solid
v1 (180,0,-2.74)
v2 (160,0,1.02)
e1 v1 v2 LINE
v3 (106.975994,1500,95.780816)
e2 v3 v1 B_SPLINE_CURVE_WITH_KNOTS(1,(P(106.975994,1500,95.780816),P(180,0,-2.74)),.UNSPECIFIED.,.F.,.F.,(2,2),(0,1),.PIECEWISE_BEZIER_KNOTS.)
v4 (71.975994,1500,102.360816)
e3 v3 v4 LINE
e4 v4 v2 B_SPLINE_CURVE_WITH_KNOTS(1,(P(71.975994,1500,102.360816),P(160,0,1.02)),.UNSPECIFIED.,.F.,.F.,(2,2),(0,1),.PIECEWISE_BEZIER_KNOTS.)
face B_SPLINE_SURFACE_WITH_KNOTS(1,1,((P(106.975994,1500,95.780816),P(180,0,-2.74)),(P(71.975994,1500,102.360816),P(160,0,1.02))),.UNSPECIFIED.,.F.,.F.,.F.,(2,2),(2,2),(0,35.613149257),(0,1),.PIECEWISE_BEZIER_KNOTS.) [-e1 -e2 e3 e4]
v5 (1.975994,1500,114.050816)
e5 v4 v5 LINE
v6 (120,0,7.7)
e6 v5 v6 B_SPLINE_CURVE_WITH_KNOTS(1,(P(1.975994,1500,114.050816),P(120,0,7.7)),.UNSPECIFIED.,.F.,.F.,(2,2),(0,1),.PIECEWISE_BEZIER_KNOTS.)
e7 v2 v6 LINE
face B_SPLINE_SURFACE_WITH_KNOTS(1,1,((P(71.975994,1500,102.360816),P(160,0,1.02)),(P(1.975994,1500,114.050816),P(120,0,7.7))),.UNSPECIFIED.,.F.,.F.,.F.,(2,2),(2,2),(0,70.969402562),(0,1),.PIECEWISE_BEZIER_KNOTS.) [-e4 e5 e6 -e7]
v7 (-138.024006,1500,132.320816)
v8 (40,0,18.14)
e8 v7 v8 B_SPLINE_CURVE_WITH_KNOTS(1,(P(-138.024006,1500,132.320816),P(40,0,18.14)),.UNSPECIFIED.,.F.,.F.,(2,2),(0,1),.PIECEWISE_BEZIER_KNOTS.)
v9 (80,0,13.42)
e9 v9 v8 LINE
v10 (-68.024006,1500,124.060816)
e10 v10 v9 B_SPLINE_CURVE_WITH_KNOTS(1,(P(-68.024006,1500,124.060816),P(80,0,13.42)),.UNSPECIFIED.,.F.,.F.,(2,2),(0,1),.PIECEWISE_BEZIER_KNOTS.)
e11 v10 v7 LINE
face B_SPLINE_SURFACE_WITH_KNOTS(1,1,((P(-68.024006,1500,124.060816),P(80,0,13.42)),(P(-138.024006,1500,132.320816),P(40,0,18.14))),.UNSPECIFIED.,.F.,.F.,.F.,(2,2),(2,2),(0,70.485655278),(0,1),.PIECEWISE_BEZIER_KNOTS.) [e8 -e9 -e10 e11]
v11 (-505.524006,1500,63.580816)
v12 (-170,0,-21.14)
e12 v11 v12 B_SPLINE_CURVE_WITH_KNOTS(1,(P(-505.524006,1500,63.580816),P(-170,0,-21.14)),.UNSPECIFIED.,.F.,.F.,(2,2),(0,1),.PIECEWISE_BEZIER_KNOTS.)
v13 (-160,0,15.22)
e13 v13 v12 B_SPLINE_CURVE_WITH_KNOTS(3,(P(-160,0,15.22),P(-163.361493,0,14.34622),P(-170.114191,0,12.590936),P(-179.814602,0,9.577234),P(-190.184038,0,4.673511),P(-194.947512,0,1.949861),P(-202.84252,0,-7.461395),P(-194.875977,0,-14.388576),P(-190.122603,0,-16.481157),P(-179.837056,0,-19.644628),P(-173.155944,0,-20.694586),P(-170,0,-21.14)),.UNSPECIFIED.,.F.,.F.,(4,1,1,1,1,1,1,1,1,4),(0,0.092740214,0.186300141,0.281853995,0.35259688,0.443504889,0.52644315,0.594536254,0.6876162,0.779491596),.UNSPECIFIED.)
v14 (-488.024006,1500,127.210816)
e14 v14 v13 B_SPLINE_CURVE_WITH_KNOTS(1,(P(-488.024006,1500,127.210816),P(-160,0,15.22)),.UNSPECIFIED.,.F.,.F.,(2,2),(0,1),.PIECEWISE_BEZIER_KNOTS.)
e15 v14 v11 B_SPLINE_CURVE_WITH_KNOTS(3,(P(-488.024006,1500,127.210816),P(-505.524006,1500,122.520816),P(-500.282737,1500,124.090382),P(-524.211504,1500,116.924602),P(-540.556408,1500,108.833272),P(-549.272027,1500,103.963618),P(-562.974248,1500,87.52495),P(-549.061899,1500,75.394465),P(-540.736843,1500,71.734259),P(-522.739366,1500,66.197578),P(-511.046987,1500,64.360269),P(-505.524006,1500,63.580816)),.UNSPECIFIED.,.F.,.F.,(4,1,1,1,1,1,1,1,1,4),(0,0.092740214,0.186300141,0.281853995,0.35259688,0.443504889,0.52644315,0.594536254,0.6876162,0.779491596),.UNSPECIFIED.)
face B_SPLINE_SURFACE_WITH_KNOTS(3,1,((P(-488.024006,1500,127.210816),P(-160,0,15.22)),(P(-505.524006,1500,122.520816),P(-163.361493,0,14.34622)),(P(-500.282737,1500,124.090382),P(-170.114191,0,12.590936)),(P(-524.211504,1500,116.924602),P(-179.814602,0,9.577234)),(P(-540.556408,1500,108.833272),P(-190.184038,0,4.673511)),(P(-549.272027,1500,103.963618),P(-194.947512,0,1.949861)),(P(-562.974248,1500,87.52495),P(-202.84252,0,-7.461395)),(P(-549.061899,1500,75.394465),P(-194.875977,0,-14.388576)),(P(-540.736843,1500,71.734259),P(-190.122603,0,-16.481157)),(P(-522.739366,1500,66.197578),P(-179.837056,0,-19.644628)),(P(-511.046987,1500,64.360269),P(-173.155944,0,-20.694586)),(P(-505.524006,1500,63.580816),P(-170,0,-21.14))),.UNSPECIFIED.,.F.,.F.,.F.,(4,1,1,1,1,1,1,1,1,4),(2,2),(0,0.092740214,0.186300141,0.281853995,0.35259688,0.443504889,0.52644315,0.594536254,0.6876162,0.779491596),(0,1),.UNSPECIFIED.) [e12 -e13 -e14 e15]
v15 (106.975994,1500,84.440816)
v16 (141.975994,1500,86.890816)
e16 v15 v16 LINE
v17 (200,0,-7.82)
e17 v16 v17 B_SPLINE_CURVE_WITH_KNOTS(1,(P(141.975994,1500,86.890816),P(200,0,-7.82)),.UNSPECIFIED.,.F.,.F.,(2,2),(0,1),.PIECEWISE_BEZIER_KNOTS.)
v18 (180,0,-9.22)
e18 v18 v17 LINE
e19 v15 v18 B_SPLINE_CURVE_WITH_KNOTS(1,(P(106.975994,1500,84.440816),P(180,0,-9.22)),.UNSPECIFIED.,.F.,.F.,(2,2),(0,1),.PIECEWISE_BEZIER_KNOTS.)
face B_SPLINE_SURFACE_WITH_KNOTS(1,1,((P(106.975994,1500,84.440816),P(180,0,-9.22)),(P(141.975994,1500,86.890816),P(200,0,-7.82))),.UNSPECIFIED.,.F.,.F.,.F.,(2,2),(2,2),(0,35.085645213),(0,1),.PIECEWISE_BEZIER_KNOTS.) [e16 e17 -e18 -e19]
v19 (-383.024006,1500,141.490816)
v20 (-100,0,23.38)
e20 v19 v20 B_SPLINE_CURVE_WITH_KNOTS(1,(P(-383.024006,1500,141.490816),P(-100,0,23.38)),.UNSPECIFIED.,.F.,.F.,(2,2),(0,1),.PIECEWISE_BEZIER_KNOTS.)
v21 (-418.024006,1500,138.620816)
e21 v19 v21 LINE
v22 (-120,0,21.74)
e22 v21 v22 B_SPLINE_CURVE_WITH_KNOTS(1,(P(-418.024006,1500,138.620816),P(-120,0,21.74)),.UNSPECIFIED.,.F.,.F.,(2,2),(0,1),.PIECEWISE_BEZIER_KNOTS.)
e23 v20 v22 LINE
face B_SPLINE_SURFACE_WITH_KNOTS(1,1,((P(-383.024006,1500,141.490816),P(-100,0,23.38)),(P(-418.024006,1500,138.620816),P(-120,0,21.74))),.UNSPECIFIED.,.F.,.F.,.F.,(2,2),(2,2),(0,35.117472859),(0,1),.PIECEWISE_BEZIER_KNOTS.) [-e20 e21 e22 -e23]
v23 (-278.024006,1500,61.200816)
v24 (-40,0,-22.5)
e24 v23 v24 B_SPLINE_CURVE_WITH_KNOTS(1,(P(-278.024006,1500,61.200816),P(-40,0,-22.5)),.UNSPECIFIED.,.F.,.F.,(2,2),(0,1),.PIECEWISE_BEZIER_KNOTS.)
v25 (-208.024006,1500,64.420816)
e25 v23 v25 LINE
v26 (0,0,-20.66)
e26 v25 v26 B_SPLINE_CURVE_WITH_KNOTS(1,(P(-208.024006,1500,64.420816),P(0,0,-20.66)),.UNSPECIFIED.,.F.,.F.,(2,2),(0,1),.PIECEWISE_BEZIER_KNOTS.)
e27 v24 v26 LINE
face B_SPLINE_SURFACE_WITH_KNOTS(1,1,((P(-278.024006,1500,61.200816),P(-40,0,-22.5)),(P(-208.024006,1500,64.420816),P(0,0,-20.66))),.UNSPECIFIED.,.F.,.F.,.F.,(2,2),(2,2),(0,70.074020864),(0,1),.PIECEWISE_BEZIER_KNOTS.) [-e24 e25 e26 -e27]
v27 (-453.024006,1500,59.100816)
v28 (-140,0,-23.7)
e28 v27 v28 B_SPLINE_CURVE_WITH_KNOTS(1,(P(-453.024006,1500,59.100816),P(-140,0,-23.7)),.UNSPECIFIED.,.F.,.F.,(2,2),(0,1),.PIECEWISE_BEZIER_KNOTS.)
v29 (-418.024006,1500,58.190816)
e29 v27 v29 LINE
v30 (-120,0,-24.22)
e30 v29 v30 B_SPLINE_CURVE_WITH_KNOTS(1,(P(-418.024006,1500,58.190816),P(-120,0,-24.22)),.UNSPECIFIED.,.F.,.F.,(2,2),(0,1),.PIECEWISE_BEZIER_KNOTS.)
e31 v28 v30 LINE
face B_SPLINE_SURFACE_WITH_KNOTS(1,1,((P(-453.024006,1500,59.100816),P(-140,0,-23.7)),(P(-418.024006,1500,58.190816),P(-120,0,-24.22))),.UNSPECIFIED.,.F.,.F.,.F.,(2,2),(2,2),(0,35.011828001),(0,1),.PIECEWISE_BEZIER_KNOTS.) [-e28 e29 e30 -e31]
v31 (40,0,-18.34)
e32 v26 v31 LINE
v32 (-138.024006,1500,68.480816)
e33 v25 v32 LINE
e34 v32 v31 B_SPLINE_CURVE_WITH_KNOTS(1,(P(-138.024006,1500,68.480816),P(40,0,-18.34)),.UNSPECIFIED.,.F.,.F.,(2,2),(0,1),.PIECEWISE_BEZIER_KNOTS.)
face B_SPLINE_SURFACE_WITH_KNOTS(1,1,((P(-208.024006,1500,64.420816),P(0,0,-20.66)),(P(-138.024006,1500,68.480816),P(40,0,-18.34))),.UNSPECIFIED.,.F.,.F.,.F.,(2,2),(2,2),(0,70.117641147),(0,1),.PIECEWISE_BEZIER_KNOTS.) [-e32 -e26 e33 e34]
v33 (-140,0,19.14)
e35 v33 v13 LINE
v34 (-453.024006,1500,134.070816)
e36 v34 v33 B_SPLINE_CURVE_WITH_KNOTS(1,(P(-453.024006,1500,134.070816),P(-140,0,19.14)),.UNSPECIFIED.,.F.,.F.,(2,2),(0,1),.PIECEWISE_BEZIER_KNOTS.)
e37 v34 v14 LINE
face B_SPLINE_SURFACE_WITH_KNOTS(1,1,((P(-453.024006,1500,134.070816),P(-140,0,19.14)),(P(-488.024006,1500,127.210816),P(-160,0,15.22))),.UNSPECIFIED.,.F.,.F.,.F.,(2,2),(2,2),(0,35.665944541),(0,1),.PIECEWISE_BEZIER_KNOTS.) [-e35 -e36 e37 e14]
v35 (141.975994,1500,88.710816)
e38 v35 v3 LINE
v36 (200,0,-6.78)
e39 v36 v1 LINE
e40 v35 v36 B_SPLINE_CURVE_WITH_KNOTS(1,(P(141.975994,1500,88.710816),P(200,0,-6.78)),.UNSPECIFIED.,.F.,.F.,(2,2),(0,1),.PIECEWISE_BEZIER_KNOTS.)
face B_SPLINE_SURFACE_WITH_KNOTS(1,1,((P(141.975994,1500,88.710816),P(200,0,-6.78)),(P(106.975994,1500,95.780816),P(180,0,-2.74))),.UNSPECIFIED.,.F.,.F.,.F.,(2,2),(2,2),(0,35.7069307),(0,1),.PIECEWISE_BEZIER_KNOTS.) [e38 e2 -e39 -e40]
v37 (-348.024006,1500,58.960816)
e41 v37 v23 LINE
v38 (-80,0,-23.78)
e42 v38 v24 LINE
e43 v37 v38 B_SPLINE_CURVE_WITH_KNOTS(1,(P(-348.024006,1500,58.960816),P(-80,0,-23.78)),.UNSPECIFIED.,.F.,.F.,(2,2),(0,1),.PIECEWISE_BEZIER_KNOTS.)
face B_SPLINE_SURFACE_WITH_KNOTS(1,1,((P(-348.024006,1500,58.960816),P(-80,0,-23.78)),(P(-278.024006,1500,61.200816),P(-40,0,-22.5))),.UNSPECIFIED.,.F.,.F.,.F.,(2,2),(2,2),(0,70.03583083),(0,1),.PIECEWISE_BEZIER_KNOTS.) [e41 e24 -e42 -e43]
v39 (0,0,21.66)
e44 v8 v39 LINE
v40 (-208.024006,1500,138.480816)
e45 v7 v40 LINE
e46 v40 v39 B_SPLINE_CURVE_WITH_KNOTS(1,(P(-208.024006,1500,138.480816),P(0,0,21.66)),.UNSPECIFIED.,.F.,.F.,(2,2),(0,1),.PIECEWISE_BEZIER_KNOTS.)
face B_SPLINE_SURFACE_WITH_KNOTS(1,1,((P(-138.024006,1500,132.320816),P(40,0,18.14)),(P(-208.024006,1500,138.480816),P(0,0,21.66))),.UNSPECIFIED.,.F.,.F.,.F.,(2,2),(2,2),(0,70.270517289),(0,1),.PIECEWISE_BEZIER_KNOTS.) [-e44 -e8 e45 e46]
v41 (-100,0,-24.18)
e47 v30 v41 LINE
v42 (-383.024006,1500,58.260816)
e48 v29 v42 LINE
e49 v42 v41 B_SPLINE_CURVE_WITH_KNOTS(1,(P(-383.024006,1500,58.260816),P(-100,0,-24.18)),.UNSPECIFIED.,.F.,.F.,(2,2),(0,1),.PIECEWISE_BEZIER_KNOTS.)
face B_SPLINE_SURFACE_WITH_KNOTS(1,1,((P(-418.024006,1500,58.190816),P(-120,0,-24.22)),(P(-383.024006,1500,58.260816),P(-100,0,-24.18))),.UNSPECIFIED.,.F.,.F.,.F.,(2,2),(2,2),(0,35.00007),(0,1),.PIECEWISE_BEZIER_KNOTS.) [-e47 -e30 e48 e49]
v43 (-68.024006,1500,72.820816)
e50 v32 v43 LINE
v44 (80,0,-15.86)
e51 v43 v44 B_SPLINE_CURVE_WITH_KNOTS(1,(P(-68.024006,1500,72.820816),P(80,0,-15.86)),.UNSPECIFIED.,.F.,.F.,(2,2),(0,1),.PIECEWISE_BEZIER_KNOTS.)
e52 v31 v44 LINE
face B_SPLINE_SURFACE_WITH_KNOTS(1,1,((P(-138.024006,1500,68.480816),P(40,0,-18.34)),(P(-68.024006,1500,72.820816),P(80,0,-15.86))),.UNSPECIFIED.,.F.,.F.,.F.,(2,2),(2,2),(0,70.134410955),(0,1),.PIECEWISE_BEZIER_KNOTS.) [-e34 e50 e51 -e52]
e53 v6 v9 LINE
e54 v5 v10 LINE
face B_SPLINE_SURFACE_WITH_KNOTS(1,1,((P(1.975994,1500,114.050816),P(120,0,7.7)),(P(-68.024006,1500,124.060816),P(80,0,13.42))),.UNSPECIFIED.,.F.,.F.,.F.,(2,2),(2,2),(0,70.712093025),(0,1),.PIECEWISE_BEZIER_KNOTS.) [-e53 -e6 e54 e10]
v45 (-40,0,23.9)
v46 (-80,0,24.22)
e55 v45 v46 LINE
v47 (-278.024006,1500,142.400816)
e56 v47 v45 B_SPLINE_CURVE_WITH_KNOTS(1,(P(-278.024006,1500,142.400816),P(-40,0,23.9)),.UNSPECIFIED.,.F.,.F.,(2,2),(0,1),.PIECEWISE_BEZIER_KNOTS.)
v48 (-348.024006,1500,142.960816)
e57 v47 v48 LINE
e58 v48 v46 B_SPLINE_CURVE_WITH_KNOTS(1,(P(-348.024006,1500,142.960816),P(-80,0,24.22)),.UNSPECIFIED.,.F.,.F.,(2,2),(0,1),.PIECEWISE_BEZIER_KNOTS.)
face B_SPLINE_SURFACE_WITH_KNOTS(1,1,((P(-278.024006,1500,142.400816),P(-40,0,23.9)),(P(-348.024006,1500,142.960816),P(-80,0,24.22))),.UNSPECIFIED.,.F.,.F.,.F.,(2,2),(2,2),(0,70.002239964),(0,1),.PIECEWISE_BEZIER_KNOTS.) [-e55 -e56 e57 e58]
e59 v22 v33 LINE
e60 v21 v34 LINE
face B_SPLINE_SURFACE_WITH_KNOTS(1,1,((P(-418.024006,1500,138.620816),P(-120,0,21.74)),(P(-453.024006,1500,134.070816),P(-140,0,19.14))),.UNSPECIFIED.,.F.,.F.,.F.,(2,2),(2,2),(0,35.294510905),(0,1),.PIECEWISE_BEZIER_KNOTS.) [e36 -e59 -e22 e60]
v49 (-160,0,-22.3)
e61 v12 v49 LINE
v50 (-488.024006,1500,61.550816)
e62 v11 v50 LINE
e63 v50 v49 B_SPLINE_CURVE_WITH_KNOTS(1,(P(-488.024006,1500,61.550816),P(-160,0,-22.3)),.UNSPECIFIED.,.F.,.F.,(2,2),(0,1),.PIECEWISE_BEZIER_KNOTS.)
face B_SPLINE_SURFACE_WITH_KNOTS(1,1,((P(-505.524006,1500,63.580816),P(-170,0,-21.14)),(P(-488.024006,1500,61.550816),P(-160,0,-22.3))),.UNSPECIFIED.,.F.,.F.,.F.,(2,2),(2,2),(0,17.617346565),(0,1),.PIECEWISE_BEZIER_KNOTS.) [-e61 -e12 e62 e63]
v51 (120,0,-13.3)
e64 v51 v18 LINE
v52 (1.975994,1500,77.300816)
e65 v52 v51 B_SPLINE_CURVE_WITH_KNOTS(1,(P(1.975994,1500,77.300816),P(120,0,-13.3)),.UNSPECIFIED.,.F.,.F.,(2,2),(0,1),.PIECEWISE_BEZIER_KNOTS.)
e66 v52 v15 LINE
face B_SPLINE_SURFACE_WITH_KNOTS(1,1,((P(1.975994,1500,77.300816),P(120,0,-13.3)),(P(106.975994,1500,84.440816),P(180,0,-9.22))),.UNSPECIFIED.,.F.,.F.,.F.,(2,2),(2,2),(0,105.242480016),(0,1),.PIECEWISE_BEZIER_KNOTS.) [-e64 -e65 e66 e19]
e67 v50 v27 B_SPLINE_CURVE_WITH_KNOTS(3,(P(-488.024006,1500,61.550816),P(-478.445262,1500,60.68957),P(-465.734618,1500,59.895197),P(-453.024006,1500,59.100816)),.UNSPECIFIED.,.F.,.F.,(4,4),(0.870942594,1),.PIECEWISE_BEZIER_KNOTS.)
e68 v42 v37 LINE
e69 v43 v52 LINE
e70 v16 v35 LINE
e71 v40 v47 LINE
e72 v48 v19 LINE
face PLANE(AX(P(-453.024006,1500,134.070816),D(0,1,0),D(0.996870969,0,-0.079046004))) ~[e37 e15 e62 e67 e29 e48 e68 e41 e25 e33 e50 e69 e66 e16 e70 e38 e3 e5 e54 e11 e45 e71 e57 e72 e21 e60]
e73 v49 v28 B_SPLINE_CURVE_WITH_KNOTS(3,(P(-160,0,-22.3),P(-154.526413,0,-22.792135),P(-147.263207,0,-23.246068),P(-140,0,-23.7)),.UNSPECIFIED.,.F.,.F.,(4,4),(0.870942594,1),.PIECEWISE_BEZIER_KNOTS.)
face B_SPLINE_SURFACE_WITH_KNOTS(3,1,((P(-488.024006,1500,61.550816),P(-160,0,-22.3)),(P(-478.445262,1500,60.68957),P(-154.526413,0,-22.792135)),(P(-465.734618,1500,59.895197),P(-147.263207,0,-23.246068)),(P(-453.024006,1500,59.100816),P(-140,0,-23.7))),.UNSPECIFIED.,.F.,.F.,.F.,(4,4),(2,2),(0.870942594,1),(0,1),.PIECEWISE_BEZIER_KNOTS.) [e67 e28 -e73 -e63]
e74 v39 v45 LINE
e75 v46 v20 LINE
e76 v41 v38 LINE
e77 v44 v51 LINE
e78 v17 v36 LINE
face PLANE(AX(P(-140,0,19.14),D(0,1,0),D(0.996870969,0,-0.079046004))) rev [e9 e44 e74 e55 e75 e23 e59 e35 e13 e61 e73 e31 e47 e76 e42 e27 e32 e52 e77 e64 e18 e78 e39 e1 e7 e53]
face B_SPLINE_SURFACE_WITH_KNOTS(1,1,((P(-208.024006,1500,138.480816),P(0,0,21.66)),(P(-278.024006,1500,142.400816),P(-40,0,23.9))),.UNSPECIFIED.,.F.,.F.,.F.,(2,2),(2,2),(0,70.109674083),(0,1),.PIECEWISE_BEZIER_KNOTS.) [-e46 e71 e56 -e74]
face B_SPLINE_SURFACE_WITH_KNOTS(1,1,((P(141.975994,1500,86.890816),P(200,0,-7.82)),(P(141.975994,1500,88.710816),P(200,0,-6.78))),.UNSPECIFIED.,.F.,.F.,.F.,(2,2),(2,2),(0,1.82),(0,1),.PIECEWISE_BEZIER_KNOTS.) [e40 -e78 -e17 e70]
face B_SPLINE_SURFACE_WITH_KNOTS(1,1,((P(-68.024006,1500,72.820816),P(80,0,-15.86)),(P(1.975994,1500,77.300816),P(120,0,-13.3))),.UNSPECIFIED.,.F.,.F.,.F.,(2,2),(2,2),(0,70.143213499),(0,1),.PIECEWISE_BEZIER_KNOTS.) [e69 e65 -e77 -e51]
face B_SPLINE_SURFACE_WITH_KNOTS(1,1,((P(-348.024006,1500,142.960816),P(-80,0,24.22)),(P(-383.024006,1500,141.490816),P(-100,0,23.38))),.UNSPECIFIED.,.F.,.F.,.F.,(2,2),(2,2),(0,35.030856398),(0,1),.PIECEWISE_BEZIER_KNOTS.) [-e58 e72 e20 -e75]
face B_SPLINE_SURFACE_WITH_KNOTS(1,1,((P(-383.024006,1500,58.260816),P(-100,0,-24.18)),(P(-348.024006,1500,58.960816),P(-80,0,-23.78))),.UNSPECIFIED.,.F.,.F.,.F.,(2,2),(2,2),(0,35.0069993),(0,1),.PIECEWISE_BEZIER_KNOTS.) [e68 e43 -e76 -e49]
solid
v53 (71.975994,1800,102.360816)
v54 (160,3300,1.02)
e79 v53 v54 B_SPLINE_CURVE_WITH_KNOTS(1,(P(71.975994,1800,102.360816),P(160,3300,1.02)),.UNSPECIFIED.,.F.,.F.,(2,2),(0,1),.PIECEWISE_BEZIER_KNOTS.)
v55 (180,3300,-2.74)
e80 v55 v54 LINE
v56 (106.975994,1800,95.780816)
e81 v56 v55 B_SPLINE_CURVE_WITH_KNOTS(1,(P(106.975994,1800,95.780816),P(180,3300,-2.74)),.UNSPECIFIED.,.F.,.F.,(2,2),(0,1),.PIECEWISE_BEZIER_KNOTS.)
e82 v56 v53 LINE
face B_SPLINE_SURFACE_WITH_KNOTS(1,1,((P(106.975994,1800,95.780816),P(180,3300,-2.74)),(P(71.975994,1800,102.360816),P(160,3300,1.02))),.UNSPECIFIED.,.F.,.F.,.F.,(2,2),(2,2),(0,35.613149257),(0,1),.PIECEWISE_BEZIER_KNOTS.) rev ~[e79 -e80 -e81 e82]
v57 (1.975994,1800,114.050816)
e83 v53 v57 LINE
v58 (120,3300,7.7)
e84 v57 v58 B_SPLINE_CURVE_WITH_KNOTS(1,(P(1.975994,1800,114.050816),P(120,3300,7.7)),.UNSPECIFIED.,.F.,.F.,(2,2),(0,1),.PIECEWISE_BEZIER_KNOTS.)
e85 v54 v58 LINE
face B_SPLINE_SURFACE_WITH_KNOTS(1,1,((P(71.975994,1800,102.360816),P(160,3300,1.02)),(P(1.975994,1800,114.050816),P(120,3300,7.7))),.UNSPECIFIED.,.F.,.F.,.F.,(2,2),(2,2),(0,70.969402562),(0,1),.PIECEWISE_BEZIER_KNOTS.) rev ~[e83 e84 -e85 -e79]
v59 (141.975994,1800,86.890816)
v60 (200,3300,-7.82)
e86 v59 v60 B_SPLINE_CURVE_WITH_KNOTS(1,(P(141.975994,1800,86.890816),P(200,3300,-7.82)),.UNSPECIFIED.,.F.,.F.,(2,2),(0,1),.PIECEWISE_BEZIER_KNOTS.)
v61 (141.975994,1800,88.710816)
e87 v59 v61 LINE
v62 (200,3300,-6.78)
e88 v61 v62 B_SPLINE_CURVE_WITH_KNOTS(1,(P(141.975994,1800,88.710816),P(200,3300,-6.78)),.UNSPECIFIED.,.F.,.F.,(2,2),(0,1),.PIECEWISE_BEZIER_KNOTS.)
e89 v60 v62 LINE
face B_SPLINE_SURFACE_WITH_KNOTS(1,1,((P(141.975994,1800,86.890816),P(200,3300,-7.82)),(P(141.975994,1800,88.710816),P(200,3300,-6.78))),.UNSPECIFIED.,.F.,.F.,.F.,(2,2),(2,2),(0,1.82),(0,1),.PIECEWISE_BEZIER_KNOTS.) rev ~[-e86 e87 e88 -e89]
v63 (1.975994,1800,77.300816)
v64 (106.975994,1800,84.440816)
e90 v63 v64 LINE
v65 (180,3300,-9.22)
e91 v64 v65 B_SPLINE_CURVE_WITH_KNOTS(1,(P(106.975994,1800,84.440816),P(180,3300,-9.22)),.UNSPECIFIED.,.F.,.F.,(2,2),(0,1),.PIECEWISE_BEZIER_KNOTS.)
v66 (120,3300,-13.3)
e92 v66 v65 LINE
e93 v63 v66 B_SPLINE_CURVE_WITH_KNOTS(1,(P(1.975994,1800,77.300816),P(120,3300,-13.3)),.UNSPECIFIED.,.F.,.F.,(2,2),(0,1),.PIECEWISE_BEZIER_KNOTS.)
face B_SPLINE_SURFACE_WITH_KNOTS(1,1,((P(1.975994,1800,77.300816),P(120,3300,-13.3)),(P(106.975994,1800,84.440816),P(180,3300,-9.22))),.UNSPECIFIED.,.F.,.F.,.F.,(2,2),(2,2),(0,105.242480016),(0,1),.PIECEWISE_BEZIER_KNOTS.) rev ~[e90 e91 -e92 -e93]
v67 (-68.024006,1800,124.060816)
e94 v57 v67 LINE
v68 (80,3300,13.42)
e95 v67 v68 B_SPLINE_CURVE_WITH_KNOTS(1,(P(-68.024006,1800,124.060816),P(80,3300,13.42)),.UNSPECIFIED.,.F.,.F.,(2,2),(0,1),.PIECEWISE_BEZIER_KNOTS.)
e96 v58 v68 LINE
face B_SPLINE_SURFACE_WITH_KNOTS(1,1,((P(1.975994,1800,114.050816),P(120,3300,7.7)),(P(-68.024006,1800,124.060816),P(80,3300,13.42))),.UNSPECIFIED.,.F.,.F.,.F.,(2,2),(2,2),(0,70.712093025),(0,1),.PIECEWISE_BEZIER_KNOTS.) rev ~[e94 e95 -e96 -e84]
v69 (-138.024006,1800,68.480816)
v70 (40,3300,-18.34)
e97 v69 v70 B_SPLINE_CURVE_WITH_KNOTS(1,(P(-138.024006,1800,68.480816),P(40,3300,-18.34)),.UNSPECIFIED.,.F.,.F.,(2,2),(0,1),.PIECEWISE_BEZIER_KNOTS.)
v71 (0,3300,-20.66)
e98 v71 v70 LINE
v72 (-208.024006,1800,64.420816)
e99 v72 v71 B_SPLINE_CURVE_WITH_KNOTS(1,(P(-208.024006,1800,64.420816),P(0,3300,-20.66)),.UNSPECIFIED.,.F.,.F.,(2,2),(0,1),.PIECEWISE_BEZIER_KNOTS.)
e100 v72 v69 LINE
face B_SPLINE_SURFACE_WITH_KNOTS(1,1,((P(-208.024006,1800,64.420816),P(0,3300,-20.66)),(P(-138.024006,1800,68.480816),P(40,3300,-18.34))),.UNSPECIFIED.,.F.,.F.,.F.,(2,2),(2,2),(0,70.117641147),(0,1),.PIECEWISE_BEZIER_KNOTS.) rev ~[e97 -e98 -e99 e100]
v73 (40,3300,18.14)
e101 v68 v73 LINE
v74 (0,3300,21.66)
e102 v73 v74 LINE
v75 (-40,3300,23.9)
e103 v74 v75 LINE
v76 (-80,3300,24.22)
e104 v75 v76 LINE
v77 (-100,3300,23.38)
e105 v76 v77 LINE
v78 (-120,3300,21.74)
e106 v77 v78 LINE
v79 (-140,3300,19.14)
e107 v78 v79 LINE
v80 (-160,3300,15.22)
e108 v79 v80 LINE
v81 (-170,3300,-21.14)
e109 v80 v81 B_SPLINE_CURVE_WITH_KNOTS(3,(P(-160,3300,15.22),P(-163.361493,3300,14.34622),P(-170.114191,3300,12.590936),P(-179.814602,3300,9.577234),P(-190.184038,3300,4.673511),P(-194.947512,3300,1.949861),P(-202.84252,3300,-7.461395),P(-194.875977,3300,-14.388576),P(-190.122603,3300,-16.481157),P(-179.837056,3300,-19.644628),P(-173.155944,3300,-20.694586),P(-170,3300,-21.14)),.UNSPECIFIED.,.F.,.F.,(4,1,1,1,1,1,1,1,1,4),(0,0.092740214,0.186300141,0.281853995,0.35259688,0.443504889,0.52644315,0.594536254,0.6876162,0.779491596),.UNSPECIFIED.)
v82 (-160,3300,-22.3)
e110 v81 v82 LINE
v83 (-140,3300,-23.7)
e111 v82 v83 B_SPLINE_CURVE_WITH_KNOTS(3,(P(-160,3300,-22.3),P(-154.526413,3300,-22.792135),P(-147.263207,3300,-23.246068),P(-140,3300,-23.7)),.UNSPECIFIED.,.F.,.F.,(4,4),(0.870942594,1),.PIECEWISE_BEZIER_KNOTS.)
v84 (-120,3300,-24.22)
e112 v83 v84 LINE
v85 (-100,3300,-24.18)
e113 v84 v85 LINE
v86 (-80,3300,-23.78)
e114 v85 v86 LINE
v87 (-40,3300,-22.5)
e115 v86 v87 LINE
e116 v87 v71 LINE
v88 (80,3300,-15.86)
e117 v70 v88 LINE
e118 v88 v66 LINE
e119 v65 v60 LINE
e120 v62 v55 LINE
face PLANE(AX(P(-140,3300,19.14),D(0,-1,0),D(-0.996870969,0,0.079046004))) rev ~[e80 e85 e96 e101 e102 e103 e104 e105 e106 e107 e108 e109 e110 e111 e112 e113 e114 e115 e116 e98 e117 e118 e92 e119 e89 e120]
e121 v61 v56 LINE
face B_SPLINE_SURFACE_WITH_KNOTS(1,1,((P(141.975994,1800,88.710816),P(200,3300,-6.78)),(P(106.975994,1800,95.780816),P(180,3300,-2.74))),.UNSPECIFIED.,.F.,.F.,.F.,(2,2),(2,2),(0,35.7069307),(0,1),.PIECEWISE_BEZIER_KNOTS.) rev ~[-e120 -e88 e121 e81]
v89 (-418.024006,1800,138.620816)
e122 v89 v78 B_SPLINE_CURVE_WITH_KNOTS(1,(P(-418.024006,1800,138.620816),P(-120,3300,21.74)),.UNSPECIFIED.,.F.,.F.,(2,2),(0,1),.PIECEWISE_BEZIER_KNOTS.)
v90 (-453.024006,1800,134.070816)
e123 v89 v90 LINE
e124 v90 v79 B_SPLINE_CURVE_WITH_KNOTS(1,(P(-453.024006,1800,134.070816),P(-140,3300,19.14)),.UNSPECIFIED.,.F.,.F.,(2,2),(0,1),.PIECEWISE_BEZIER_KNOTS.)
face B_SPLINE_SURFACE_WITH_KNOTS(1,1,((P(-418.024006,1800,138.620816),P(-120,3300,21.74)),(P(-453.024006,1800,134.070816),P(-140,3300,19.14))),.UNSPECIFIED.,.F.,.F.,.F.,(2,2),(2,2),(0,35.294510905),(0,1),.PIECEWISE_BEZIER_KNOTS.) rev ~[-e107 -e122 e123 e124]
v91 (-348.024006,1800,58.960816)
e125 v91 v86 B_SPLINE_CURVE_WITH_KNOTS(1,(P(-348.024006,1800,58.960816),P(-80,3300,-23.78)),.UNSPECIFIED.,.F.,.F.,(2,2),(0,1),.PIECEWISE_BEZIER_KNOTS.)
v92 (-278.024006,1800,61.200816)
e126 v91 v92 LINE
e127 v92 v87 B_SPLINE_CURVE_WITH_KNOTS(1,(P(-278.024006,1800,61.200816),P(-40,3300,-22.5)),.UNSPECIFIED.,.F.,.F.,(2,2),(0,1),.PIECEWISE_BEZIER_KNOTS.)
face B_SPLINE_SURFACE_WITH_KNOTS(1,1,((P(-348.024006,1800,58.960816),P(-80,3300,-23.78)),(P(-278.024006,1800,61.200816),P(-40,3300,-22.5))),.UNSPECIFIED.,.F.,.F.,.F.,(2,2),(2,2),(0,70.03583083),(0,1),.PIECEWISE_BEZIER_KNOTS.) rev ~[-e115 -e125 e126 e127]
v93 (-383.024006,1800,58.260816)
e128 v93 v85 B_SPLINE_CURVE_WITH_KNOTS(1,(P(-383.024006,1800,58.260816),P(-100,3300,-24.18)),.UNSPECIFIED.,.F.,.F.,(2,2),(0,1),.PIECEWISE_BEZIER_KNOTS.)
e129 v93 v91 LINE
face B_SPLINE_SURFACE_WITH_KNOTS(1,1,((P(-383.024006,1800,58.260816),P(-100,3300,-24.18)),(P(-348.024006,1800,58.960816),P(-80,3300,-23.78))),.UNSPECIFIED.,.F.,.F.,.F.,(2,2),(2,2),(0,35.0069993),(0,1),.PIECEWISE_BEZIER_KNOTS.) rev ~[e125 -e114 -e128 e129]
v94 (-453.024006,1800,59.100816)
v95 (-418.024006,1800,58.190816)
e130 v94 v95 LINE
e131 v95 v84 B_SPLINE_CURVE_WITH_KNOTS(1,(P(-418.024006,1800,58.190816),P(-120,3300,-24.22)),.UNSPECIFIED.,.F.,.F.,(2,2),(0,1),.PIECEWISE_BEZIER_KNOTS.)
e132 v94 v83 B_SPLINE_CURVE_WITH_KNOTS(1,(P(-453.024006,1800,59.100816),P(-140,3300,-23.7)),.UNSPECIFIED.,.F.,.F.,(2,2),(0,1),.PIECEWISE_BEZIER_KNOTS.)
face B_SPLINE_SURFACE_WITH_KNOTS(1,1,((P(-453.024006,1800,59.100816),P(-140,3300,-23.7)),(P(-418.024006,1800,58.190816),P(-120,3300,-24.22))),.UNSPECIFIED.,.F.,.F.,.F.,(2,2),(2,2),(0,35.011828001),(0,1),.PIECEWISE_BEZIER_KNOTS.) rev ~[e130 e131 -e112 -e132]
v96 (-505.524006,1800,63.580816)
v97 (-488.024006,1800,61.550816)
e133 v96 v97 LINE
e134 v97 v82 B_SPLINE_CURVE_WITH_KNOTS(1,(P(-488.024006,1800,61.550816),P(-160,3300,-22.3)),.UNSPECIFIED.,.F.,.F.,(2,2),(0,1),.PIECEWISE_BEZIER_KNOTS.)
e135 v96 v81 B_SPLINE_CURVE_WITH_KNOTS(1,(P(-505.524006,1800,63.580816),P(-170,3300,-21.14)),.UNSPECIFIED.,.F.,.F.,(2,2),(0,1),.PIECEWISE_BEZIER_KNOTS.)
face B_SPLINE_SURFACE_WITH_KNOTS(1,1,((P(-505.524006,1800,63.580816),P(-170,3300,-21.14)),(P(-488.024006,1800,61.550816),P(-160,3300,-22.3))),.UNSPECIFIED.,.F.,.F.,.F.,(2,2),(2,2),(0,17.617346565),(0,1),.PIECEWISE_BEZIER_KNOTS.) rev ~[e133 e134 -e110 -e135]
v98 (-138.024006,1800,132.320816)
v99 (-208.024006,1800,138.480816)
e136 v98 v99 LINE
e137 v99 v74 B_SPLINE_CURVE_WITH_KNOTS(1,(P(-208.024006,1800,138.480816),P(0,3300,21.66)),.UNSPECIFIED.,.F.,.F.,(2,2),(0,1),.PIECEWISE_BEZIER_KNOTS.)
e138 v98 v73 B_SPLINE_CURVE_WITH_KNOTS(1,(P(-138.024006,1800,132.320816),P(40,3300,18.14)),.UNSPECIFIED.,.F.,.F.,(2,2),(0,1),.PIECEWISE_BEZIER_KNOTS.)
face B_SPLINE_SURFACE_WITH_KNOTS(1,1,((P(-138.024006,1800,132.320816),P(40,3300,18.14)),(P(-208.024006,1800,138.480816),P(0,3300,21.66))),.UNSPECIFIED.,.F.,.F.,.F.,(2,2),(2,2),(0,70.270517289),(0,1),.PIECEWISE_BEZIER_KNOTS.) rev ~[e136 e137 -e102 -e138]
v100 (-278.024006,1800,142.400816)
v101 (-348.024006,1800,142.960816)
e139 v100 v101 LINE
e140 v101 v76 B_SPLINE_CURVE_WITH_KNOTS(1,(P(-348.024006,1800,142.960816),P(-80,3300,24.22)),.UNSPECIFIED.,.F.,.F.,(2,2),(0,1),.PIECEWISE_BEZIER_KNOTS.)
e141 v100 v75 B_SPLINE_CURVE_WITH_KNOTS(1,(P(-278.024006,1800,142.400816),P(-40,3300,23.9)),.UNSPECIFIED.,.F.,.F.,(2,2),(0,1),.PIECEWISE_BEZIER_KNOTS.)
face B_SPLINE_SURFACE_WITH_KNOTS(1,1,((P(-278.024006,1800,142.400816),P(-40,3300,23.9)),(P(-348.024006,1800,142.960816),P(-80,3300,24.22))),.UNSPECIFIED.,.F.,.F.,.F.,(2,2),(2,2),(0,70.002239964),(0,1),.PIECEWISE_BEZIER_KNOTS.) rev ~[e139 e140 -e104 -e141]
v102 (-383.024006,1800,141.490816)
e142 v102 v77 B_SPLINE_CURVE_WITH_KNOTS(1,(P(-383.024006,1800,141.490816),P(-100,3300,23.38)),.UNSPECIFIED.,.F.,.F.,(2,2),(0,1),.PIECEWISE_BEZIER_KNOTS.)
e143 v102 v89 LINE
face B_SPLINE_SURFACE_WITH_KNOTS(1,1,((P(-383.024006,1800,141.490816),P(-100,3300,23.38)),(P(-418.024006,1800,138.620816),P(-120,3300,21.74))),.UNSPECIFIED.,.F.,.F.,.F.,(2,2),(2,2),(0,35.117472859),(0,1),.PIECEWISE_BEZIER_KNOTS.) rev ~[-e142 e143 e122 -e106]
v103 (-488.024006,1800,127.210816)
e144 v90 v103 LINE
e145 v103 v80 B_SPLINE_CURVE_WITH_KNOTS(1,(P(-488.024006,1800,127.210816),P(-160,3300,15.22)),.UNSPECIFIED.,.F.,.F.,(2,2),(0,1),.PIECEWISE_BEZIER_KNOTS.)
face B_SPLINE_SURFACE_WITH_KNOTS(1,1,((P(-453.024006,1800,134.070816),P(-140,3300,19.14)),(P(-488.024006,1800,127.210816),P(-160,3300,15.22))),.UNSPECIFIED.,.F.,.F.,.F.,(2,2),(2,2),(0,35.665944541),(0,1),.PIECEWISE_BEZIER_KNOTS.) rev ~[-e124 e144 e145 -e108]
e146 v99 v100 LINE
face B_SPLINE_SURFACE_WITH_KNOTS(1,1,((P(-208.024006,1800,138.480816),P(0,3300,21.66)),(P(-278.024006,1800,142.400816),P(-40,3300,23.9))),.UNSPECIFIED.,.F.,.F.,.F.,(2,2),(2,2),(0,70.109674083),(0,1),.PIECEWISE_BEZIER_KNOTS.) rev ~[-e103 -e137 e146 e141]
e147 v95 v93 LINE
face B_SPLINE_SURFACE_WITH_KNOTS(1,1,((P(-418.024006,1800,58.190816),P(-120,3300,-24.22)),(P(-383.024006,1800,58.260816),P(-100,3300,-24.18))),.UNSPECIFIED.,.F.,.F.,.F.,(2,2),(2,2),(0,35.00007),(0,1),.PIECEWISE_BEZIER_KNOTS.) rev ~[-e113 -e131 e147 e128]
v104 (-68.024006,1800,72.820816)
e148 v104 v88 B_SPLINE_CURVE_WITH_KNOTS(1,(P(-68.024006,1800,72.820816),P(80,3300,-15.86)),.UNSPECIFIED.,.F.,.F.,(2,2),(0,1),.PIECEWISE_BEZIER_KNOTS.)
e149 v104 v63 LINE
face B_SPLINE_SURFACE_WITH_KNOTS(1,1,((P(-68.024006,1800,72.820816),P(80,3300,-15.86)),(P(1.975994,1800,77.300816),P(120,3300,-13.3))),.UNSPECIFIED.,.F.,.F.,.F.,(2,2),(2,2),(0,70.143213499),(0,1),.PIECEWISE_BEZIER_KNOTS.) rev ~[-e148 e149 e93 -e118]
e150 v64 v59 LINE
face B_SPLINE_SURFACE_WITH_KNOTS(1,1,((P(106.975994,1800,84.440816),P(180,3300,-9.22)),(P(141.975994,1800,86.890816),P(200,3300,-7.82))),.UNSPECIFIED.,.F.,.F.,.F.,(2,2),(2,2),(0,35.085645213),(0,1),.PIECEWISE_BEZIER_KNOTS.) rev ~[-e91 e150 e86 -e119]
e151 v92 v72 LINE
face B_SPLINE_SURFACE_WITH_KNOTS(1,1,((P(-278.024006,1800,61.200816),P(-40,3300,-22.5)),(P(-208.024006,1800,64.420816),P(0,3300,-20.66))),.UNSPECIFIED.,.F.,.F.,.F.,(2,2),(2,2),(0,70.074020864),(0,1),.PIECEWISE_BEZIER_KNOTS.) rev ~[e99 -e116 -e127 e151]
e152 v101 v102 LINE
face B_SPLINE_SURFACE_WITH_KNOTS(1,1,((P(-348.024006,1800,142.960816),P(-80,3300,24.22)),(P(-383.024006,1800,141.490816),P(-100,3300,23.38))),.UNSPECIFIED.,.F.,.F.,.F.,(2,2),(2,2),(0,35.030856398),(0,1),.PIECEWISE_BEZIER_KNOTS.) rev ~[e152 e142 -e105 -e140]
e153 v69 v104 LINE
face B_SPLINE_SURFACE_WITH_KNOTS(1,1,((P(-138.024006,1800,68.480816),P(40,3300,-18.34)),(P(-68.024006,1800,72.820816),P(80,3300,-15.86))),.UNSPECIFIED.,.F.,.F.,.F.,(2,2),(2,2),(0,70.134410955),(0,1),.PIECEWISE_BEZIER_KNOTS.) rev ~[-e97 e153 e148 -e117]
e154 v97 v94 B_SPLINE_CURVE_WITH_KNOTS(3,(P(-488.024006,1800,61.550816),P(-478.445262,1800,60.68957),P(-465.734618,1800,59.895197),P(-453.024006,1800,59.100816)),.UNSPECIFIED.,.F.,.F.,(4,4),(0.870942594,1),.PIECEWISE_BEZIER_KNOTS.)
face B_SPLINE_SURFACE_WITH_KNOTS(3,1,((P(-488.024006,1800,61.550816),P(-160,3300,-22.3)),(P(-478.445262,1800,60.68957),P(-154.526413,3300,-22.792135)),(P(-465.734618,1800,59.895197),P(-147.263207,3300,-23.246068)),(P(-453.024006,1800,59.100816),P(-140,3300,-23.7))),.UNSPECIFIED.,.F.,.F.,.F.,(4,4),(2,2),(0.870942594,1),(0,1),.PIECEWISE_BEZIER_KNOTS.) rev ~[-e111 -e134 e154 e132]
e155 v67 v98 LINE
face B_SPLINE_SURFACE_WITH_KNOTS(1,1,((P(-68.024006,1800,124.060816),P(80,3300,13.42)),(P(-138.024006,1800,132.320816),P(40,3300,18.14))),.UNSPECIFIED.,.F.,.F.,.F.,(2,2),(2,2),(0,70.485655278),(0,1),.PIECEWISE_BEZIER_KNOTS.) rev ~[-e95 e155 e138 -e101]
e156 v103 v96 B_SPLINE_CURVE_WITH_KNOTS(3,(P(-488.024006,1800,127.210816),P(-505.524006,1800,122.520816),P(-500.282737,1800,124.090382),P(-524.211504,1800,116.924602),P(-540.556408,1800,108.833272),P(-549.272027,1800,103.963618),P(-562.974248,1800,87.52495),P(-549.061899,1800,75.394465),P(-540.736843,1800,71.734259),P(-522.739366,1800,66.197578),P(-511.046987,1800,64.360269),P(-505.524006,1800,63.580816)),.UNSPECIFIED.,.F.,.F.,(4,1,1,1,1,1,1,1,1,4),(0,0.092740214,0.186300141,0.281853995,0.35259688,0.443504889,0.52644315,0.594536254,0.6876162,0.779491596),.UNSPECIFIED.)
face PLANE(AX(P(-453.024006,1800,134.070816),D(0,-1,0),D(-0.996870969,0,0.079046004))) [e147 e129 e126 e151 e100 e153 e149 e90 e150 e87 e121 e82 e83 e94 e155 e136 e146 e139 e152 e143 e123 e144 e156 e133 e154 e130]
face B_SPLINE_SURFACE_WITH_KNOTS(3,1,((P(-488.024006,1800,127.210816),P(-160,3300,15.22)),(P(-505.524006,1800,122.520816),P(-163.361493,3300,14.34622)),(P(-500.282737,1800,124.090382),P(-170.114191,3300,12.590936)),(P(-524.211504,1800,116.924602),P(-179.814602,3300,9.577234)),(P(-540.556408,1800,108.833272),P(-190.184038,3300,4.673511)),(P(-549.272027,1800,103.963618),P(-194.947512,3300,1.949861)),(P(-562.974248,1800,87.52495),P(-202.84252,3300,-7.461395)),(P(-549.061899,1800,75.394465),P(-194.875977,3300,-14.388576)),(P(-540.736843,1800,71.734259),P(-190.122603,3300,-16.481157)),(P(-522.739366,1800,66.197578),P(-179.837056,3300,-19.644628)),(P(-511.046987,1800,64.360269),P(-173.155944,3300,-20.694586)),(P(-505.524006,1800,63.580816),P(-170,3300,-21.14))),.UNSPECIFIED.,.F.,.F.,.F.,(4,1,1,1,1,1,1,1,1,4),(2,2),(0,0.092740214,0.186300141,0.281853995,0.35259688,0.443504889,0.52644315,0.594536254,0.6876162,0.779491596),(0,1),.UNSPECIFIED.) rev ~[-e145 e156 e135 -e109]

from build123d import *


with BuildPart() as f3:
    # F2 (on offset) → F3 section 0
    with BuildSketch(Plane.XZ.offset(-1500)):
        with BuildLine():
            Line((-453.024005903, 134.070815636), (-488.024005903, 127.210815636))
            add(Edge.make_bspline(
                [(-488.024005903, 127.210815636), (-505.524005903, 122.520815636), (-500.2827367227, 124.0903816748), (-524.2115035713, 116.9246020698), (-540.5564075877, 108.8332722079), (-549.2720273912, 103.9636179679), (-562.9742481019, 87.5249499302), (-549.0618991003, 75.3944652873), (-540.7368431214, 71.7342588003), (-522.7393658392, 66.1975777348), (-511.0469874932, 64.3602690089), (-505.524005903, 63.580815636)],
                knots=[0, 0, 0, 0, 0.0927402139, 0.1863001415, 0.2818539948, 0.3525968802, 0.4435048891, 0.5264431503, 0.5945362542, 0.6876161998, 0.7794915956, 0.7794915956, 0.7794915956, 0.7794915956], degree=3))
            Line((-505.524005903, 63.580815636), (-488.024005903, 61.550815636))
            add(Edge.make_bspline(
                [(-488.024005903, 61.550815636), (-478.4452616439, 60.6895704297), (-465.7346175052, 59.8951974592), (-453.024005903, 59.100815636)],
                knots=[0.8709425935, 0.8709425935, 0.8709425935, 0.8709425935, 1, 1, 1, 1], degree=3))
            Line((-453.024005903, 59.100815636), (-418.024005903, 58.190815636))
            Line((-418.024005903, 58.190815636), (-383.024005903, 58.260815636))
            Line((-383.024005903, 58.260815636), (-348.024005903, 58.960815636))
            Line((-348.024005903, 58.960815636), (-278.024005903, 61.200815636))
            Line((-278.024005903, 61.200815636), (-208.024005903, 64.420815636))
            Line((-208.024005903, 64.420815636), (-138.024005903, 68.480815636))
            Line((-138.024005903, 68.480815636), (-68.024005903, 72.820815636))
            Line((-68.024005903, 72.820815636), (1.975994097, 77.300815636))
            Line((1.975994097, 77.300815636), (71.975994097, 82.060815636))
            Line((71.975994097, 82.060815636), (106.975994097, 84.440815636))
            Line((106.975994097, 84.440815636), (141.975994097, 86.890815636))
            Line((141.975994097, 86.890815636), (141.975994097, 88.710815636))
            Line((141.975994097, 88.710815636), (106.975994097, 95.780815636))
            Line((106.975994097, 95.780815636), (71.975994097, 102.360815636))
            Line((71.975994097, 102.360815636), (1.975994097, 114.050815636))
            Line((1.975994097, 114.050815636), (-68.024005903, 124.060815636))
            Line((-68.024005903, 124.060815636), (-138.024005903, 132.320815636))
            Line((-138.024005903, 132.320815636), (-208.024005903, 138.480815636))
            Line((-208.024005903, 138.480815636), (-278.024005903, 142.400815636))
            Line((-278.024005903, 142.400815636), (-348.024005903, 142.960815636))
            Line((-348.024005903, 142.960815636), (-383.024005903, 141.490815636))
            Line((-383.024005903, 141.490815636), (-418.024005903, 138.620815636))
            Line((-418.024005903, 138.620815636), (-453.024005903, 134.070815636))
        make_face()
    # F1 (on Front) → F3 section 1
    with BuildSketch(Plane.XZ):
        with BuildLine():
            Line((-140, 19.14), (-160, 15.22))
            add(Edge.make_bspline(
                [(-160, 15.22), (-163.3614930577, 14.3462198296), (-170.1141907895, 12.5909363071), (-179.8146019131, 9.5772340737), (-190.1840383373, 4.6735107199), (-194.947511806, 1.9498605419), (-202.8425195497, -7.4613949262), (-194.8759768107, -14.3885759744), (-190.1226032141, -16.4811567906), (-179.8370560736, -19.6446277986), (-173.1559442507, -20.6945857665), (-170, -21.14)],
                knots=[0, 0, 0, 0, 0.0927402139, 0.1863001415, 0.2818539948, 0.3525968802, 0.4435048891, 0.5264431503, 0.5945362542, 0.6876161998, 0.7794915956, 0.7794915956, 0.7794915956, 0.7794915956], degree=3))
            Line((-170, -21.14), (-160, -22.3))
            add(Edge.make_bspline(
                [(-160, -22.3), (-154.5264132597, -22.7921350592), (-147.2632066298, -23.2460675296), (-140, -23.7)],
                knots=[0.8709425935, 0.8709425935, 0.8709425935, 0.8709425935, 1, 1, 1, 1], degree=3))
            Line((-140, -23.7), (-120, -24.22))
            Line((-120, -24.22), (-100, -24.18))
            Line((-100, -24.18), (-80, -23.78))
            Line((-80, -23.78), (-40, -22.5))
            Line((-40, -22.5), (0, -20.66))
            Line((0, -20.66), (40, -18.34))
            Line((40, -18.34), (80, -15.86))
            Line((80, -15.86), (120, -13.3))
            Line((120, -13.3), (160, -10.58))
            Line((160, -10.58), (180, -9.22))
            Line((180, -9.22), (200, -7.82))
            Line((200, -7.82), (200, -6.78))
            Line((200, -6.78), (180, -2.74))
            Line((180, -2.74), (160, 1.02))
            Line((160, 1.02), (120, 7.7))
            Line((120, 7.7), (80, 13.42))
            Line((80, 13.42), (40, 18.14))
            Line((40, 18.14), (0, 21.66))
            Line((0, 21.66), (-40, 23.9))
            Line((-40, 23.9), (-80, 24.22))
            Line((-80, 24.22), (-100, 23.38))
            Line((-100, 23.38), (-120, 21.74))
            Line((-120, 21.74), (-140, 19.14))
        make_face()
    loft()


with BuildPart() as f5_1:
    # F5: instance of F3
    add(f3.part.mirror(Plane.XZ.offset(-1650)))


solid = Compound([f3.part, f5_1.part])
